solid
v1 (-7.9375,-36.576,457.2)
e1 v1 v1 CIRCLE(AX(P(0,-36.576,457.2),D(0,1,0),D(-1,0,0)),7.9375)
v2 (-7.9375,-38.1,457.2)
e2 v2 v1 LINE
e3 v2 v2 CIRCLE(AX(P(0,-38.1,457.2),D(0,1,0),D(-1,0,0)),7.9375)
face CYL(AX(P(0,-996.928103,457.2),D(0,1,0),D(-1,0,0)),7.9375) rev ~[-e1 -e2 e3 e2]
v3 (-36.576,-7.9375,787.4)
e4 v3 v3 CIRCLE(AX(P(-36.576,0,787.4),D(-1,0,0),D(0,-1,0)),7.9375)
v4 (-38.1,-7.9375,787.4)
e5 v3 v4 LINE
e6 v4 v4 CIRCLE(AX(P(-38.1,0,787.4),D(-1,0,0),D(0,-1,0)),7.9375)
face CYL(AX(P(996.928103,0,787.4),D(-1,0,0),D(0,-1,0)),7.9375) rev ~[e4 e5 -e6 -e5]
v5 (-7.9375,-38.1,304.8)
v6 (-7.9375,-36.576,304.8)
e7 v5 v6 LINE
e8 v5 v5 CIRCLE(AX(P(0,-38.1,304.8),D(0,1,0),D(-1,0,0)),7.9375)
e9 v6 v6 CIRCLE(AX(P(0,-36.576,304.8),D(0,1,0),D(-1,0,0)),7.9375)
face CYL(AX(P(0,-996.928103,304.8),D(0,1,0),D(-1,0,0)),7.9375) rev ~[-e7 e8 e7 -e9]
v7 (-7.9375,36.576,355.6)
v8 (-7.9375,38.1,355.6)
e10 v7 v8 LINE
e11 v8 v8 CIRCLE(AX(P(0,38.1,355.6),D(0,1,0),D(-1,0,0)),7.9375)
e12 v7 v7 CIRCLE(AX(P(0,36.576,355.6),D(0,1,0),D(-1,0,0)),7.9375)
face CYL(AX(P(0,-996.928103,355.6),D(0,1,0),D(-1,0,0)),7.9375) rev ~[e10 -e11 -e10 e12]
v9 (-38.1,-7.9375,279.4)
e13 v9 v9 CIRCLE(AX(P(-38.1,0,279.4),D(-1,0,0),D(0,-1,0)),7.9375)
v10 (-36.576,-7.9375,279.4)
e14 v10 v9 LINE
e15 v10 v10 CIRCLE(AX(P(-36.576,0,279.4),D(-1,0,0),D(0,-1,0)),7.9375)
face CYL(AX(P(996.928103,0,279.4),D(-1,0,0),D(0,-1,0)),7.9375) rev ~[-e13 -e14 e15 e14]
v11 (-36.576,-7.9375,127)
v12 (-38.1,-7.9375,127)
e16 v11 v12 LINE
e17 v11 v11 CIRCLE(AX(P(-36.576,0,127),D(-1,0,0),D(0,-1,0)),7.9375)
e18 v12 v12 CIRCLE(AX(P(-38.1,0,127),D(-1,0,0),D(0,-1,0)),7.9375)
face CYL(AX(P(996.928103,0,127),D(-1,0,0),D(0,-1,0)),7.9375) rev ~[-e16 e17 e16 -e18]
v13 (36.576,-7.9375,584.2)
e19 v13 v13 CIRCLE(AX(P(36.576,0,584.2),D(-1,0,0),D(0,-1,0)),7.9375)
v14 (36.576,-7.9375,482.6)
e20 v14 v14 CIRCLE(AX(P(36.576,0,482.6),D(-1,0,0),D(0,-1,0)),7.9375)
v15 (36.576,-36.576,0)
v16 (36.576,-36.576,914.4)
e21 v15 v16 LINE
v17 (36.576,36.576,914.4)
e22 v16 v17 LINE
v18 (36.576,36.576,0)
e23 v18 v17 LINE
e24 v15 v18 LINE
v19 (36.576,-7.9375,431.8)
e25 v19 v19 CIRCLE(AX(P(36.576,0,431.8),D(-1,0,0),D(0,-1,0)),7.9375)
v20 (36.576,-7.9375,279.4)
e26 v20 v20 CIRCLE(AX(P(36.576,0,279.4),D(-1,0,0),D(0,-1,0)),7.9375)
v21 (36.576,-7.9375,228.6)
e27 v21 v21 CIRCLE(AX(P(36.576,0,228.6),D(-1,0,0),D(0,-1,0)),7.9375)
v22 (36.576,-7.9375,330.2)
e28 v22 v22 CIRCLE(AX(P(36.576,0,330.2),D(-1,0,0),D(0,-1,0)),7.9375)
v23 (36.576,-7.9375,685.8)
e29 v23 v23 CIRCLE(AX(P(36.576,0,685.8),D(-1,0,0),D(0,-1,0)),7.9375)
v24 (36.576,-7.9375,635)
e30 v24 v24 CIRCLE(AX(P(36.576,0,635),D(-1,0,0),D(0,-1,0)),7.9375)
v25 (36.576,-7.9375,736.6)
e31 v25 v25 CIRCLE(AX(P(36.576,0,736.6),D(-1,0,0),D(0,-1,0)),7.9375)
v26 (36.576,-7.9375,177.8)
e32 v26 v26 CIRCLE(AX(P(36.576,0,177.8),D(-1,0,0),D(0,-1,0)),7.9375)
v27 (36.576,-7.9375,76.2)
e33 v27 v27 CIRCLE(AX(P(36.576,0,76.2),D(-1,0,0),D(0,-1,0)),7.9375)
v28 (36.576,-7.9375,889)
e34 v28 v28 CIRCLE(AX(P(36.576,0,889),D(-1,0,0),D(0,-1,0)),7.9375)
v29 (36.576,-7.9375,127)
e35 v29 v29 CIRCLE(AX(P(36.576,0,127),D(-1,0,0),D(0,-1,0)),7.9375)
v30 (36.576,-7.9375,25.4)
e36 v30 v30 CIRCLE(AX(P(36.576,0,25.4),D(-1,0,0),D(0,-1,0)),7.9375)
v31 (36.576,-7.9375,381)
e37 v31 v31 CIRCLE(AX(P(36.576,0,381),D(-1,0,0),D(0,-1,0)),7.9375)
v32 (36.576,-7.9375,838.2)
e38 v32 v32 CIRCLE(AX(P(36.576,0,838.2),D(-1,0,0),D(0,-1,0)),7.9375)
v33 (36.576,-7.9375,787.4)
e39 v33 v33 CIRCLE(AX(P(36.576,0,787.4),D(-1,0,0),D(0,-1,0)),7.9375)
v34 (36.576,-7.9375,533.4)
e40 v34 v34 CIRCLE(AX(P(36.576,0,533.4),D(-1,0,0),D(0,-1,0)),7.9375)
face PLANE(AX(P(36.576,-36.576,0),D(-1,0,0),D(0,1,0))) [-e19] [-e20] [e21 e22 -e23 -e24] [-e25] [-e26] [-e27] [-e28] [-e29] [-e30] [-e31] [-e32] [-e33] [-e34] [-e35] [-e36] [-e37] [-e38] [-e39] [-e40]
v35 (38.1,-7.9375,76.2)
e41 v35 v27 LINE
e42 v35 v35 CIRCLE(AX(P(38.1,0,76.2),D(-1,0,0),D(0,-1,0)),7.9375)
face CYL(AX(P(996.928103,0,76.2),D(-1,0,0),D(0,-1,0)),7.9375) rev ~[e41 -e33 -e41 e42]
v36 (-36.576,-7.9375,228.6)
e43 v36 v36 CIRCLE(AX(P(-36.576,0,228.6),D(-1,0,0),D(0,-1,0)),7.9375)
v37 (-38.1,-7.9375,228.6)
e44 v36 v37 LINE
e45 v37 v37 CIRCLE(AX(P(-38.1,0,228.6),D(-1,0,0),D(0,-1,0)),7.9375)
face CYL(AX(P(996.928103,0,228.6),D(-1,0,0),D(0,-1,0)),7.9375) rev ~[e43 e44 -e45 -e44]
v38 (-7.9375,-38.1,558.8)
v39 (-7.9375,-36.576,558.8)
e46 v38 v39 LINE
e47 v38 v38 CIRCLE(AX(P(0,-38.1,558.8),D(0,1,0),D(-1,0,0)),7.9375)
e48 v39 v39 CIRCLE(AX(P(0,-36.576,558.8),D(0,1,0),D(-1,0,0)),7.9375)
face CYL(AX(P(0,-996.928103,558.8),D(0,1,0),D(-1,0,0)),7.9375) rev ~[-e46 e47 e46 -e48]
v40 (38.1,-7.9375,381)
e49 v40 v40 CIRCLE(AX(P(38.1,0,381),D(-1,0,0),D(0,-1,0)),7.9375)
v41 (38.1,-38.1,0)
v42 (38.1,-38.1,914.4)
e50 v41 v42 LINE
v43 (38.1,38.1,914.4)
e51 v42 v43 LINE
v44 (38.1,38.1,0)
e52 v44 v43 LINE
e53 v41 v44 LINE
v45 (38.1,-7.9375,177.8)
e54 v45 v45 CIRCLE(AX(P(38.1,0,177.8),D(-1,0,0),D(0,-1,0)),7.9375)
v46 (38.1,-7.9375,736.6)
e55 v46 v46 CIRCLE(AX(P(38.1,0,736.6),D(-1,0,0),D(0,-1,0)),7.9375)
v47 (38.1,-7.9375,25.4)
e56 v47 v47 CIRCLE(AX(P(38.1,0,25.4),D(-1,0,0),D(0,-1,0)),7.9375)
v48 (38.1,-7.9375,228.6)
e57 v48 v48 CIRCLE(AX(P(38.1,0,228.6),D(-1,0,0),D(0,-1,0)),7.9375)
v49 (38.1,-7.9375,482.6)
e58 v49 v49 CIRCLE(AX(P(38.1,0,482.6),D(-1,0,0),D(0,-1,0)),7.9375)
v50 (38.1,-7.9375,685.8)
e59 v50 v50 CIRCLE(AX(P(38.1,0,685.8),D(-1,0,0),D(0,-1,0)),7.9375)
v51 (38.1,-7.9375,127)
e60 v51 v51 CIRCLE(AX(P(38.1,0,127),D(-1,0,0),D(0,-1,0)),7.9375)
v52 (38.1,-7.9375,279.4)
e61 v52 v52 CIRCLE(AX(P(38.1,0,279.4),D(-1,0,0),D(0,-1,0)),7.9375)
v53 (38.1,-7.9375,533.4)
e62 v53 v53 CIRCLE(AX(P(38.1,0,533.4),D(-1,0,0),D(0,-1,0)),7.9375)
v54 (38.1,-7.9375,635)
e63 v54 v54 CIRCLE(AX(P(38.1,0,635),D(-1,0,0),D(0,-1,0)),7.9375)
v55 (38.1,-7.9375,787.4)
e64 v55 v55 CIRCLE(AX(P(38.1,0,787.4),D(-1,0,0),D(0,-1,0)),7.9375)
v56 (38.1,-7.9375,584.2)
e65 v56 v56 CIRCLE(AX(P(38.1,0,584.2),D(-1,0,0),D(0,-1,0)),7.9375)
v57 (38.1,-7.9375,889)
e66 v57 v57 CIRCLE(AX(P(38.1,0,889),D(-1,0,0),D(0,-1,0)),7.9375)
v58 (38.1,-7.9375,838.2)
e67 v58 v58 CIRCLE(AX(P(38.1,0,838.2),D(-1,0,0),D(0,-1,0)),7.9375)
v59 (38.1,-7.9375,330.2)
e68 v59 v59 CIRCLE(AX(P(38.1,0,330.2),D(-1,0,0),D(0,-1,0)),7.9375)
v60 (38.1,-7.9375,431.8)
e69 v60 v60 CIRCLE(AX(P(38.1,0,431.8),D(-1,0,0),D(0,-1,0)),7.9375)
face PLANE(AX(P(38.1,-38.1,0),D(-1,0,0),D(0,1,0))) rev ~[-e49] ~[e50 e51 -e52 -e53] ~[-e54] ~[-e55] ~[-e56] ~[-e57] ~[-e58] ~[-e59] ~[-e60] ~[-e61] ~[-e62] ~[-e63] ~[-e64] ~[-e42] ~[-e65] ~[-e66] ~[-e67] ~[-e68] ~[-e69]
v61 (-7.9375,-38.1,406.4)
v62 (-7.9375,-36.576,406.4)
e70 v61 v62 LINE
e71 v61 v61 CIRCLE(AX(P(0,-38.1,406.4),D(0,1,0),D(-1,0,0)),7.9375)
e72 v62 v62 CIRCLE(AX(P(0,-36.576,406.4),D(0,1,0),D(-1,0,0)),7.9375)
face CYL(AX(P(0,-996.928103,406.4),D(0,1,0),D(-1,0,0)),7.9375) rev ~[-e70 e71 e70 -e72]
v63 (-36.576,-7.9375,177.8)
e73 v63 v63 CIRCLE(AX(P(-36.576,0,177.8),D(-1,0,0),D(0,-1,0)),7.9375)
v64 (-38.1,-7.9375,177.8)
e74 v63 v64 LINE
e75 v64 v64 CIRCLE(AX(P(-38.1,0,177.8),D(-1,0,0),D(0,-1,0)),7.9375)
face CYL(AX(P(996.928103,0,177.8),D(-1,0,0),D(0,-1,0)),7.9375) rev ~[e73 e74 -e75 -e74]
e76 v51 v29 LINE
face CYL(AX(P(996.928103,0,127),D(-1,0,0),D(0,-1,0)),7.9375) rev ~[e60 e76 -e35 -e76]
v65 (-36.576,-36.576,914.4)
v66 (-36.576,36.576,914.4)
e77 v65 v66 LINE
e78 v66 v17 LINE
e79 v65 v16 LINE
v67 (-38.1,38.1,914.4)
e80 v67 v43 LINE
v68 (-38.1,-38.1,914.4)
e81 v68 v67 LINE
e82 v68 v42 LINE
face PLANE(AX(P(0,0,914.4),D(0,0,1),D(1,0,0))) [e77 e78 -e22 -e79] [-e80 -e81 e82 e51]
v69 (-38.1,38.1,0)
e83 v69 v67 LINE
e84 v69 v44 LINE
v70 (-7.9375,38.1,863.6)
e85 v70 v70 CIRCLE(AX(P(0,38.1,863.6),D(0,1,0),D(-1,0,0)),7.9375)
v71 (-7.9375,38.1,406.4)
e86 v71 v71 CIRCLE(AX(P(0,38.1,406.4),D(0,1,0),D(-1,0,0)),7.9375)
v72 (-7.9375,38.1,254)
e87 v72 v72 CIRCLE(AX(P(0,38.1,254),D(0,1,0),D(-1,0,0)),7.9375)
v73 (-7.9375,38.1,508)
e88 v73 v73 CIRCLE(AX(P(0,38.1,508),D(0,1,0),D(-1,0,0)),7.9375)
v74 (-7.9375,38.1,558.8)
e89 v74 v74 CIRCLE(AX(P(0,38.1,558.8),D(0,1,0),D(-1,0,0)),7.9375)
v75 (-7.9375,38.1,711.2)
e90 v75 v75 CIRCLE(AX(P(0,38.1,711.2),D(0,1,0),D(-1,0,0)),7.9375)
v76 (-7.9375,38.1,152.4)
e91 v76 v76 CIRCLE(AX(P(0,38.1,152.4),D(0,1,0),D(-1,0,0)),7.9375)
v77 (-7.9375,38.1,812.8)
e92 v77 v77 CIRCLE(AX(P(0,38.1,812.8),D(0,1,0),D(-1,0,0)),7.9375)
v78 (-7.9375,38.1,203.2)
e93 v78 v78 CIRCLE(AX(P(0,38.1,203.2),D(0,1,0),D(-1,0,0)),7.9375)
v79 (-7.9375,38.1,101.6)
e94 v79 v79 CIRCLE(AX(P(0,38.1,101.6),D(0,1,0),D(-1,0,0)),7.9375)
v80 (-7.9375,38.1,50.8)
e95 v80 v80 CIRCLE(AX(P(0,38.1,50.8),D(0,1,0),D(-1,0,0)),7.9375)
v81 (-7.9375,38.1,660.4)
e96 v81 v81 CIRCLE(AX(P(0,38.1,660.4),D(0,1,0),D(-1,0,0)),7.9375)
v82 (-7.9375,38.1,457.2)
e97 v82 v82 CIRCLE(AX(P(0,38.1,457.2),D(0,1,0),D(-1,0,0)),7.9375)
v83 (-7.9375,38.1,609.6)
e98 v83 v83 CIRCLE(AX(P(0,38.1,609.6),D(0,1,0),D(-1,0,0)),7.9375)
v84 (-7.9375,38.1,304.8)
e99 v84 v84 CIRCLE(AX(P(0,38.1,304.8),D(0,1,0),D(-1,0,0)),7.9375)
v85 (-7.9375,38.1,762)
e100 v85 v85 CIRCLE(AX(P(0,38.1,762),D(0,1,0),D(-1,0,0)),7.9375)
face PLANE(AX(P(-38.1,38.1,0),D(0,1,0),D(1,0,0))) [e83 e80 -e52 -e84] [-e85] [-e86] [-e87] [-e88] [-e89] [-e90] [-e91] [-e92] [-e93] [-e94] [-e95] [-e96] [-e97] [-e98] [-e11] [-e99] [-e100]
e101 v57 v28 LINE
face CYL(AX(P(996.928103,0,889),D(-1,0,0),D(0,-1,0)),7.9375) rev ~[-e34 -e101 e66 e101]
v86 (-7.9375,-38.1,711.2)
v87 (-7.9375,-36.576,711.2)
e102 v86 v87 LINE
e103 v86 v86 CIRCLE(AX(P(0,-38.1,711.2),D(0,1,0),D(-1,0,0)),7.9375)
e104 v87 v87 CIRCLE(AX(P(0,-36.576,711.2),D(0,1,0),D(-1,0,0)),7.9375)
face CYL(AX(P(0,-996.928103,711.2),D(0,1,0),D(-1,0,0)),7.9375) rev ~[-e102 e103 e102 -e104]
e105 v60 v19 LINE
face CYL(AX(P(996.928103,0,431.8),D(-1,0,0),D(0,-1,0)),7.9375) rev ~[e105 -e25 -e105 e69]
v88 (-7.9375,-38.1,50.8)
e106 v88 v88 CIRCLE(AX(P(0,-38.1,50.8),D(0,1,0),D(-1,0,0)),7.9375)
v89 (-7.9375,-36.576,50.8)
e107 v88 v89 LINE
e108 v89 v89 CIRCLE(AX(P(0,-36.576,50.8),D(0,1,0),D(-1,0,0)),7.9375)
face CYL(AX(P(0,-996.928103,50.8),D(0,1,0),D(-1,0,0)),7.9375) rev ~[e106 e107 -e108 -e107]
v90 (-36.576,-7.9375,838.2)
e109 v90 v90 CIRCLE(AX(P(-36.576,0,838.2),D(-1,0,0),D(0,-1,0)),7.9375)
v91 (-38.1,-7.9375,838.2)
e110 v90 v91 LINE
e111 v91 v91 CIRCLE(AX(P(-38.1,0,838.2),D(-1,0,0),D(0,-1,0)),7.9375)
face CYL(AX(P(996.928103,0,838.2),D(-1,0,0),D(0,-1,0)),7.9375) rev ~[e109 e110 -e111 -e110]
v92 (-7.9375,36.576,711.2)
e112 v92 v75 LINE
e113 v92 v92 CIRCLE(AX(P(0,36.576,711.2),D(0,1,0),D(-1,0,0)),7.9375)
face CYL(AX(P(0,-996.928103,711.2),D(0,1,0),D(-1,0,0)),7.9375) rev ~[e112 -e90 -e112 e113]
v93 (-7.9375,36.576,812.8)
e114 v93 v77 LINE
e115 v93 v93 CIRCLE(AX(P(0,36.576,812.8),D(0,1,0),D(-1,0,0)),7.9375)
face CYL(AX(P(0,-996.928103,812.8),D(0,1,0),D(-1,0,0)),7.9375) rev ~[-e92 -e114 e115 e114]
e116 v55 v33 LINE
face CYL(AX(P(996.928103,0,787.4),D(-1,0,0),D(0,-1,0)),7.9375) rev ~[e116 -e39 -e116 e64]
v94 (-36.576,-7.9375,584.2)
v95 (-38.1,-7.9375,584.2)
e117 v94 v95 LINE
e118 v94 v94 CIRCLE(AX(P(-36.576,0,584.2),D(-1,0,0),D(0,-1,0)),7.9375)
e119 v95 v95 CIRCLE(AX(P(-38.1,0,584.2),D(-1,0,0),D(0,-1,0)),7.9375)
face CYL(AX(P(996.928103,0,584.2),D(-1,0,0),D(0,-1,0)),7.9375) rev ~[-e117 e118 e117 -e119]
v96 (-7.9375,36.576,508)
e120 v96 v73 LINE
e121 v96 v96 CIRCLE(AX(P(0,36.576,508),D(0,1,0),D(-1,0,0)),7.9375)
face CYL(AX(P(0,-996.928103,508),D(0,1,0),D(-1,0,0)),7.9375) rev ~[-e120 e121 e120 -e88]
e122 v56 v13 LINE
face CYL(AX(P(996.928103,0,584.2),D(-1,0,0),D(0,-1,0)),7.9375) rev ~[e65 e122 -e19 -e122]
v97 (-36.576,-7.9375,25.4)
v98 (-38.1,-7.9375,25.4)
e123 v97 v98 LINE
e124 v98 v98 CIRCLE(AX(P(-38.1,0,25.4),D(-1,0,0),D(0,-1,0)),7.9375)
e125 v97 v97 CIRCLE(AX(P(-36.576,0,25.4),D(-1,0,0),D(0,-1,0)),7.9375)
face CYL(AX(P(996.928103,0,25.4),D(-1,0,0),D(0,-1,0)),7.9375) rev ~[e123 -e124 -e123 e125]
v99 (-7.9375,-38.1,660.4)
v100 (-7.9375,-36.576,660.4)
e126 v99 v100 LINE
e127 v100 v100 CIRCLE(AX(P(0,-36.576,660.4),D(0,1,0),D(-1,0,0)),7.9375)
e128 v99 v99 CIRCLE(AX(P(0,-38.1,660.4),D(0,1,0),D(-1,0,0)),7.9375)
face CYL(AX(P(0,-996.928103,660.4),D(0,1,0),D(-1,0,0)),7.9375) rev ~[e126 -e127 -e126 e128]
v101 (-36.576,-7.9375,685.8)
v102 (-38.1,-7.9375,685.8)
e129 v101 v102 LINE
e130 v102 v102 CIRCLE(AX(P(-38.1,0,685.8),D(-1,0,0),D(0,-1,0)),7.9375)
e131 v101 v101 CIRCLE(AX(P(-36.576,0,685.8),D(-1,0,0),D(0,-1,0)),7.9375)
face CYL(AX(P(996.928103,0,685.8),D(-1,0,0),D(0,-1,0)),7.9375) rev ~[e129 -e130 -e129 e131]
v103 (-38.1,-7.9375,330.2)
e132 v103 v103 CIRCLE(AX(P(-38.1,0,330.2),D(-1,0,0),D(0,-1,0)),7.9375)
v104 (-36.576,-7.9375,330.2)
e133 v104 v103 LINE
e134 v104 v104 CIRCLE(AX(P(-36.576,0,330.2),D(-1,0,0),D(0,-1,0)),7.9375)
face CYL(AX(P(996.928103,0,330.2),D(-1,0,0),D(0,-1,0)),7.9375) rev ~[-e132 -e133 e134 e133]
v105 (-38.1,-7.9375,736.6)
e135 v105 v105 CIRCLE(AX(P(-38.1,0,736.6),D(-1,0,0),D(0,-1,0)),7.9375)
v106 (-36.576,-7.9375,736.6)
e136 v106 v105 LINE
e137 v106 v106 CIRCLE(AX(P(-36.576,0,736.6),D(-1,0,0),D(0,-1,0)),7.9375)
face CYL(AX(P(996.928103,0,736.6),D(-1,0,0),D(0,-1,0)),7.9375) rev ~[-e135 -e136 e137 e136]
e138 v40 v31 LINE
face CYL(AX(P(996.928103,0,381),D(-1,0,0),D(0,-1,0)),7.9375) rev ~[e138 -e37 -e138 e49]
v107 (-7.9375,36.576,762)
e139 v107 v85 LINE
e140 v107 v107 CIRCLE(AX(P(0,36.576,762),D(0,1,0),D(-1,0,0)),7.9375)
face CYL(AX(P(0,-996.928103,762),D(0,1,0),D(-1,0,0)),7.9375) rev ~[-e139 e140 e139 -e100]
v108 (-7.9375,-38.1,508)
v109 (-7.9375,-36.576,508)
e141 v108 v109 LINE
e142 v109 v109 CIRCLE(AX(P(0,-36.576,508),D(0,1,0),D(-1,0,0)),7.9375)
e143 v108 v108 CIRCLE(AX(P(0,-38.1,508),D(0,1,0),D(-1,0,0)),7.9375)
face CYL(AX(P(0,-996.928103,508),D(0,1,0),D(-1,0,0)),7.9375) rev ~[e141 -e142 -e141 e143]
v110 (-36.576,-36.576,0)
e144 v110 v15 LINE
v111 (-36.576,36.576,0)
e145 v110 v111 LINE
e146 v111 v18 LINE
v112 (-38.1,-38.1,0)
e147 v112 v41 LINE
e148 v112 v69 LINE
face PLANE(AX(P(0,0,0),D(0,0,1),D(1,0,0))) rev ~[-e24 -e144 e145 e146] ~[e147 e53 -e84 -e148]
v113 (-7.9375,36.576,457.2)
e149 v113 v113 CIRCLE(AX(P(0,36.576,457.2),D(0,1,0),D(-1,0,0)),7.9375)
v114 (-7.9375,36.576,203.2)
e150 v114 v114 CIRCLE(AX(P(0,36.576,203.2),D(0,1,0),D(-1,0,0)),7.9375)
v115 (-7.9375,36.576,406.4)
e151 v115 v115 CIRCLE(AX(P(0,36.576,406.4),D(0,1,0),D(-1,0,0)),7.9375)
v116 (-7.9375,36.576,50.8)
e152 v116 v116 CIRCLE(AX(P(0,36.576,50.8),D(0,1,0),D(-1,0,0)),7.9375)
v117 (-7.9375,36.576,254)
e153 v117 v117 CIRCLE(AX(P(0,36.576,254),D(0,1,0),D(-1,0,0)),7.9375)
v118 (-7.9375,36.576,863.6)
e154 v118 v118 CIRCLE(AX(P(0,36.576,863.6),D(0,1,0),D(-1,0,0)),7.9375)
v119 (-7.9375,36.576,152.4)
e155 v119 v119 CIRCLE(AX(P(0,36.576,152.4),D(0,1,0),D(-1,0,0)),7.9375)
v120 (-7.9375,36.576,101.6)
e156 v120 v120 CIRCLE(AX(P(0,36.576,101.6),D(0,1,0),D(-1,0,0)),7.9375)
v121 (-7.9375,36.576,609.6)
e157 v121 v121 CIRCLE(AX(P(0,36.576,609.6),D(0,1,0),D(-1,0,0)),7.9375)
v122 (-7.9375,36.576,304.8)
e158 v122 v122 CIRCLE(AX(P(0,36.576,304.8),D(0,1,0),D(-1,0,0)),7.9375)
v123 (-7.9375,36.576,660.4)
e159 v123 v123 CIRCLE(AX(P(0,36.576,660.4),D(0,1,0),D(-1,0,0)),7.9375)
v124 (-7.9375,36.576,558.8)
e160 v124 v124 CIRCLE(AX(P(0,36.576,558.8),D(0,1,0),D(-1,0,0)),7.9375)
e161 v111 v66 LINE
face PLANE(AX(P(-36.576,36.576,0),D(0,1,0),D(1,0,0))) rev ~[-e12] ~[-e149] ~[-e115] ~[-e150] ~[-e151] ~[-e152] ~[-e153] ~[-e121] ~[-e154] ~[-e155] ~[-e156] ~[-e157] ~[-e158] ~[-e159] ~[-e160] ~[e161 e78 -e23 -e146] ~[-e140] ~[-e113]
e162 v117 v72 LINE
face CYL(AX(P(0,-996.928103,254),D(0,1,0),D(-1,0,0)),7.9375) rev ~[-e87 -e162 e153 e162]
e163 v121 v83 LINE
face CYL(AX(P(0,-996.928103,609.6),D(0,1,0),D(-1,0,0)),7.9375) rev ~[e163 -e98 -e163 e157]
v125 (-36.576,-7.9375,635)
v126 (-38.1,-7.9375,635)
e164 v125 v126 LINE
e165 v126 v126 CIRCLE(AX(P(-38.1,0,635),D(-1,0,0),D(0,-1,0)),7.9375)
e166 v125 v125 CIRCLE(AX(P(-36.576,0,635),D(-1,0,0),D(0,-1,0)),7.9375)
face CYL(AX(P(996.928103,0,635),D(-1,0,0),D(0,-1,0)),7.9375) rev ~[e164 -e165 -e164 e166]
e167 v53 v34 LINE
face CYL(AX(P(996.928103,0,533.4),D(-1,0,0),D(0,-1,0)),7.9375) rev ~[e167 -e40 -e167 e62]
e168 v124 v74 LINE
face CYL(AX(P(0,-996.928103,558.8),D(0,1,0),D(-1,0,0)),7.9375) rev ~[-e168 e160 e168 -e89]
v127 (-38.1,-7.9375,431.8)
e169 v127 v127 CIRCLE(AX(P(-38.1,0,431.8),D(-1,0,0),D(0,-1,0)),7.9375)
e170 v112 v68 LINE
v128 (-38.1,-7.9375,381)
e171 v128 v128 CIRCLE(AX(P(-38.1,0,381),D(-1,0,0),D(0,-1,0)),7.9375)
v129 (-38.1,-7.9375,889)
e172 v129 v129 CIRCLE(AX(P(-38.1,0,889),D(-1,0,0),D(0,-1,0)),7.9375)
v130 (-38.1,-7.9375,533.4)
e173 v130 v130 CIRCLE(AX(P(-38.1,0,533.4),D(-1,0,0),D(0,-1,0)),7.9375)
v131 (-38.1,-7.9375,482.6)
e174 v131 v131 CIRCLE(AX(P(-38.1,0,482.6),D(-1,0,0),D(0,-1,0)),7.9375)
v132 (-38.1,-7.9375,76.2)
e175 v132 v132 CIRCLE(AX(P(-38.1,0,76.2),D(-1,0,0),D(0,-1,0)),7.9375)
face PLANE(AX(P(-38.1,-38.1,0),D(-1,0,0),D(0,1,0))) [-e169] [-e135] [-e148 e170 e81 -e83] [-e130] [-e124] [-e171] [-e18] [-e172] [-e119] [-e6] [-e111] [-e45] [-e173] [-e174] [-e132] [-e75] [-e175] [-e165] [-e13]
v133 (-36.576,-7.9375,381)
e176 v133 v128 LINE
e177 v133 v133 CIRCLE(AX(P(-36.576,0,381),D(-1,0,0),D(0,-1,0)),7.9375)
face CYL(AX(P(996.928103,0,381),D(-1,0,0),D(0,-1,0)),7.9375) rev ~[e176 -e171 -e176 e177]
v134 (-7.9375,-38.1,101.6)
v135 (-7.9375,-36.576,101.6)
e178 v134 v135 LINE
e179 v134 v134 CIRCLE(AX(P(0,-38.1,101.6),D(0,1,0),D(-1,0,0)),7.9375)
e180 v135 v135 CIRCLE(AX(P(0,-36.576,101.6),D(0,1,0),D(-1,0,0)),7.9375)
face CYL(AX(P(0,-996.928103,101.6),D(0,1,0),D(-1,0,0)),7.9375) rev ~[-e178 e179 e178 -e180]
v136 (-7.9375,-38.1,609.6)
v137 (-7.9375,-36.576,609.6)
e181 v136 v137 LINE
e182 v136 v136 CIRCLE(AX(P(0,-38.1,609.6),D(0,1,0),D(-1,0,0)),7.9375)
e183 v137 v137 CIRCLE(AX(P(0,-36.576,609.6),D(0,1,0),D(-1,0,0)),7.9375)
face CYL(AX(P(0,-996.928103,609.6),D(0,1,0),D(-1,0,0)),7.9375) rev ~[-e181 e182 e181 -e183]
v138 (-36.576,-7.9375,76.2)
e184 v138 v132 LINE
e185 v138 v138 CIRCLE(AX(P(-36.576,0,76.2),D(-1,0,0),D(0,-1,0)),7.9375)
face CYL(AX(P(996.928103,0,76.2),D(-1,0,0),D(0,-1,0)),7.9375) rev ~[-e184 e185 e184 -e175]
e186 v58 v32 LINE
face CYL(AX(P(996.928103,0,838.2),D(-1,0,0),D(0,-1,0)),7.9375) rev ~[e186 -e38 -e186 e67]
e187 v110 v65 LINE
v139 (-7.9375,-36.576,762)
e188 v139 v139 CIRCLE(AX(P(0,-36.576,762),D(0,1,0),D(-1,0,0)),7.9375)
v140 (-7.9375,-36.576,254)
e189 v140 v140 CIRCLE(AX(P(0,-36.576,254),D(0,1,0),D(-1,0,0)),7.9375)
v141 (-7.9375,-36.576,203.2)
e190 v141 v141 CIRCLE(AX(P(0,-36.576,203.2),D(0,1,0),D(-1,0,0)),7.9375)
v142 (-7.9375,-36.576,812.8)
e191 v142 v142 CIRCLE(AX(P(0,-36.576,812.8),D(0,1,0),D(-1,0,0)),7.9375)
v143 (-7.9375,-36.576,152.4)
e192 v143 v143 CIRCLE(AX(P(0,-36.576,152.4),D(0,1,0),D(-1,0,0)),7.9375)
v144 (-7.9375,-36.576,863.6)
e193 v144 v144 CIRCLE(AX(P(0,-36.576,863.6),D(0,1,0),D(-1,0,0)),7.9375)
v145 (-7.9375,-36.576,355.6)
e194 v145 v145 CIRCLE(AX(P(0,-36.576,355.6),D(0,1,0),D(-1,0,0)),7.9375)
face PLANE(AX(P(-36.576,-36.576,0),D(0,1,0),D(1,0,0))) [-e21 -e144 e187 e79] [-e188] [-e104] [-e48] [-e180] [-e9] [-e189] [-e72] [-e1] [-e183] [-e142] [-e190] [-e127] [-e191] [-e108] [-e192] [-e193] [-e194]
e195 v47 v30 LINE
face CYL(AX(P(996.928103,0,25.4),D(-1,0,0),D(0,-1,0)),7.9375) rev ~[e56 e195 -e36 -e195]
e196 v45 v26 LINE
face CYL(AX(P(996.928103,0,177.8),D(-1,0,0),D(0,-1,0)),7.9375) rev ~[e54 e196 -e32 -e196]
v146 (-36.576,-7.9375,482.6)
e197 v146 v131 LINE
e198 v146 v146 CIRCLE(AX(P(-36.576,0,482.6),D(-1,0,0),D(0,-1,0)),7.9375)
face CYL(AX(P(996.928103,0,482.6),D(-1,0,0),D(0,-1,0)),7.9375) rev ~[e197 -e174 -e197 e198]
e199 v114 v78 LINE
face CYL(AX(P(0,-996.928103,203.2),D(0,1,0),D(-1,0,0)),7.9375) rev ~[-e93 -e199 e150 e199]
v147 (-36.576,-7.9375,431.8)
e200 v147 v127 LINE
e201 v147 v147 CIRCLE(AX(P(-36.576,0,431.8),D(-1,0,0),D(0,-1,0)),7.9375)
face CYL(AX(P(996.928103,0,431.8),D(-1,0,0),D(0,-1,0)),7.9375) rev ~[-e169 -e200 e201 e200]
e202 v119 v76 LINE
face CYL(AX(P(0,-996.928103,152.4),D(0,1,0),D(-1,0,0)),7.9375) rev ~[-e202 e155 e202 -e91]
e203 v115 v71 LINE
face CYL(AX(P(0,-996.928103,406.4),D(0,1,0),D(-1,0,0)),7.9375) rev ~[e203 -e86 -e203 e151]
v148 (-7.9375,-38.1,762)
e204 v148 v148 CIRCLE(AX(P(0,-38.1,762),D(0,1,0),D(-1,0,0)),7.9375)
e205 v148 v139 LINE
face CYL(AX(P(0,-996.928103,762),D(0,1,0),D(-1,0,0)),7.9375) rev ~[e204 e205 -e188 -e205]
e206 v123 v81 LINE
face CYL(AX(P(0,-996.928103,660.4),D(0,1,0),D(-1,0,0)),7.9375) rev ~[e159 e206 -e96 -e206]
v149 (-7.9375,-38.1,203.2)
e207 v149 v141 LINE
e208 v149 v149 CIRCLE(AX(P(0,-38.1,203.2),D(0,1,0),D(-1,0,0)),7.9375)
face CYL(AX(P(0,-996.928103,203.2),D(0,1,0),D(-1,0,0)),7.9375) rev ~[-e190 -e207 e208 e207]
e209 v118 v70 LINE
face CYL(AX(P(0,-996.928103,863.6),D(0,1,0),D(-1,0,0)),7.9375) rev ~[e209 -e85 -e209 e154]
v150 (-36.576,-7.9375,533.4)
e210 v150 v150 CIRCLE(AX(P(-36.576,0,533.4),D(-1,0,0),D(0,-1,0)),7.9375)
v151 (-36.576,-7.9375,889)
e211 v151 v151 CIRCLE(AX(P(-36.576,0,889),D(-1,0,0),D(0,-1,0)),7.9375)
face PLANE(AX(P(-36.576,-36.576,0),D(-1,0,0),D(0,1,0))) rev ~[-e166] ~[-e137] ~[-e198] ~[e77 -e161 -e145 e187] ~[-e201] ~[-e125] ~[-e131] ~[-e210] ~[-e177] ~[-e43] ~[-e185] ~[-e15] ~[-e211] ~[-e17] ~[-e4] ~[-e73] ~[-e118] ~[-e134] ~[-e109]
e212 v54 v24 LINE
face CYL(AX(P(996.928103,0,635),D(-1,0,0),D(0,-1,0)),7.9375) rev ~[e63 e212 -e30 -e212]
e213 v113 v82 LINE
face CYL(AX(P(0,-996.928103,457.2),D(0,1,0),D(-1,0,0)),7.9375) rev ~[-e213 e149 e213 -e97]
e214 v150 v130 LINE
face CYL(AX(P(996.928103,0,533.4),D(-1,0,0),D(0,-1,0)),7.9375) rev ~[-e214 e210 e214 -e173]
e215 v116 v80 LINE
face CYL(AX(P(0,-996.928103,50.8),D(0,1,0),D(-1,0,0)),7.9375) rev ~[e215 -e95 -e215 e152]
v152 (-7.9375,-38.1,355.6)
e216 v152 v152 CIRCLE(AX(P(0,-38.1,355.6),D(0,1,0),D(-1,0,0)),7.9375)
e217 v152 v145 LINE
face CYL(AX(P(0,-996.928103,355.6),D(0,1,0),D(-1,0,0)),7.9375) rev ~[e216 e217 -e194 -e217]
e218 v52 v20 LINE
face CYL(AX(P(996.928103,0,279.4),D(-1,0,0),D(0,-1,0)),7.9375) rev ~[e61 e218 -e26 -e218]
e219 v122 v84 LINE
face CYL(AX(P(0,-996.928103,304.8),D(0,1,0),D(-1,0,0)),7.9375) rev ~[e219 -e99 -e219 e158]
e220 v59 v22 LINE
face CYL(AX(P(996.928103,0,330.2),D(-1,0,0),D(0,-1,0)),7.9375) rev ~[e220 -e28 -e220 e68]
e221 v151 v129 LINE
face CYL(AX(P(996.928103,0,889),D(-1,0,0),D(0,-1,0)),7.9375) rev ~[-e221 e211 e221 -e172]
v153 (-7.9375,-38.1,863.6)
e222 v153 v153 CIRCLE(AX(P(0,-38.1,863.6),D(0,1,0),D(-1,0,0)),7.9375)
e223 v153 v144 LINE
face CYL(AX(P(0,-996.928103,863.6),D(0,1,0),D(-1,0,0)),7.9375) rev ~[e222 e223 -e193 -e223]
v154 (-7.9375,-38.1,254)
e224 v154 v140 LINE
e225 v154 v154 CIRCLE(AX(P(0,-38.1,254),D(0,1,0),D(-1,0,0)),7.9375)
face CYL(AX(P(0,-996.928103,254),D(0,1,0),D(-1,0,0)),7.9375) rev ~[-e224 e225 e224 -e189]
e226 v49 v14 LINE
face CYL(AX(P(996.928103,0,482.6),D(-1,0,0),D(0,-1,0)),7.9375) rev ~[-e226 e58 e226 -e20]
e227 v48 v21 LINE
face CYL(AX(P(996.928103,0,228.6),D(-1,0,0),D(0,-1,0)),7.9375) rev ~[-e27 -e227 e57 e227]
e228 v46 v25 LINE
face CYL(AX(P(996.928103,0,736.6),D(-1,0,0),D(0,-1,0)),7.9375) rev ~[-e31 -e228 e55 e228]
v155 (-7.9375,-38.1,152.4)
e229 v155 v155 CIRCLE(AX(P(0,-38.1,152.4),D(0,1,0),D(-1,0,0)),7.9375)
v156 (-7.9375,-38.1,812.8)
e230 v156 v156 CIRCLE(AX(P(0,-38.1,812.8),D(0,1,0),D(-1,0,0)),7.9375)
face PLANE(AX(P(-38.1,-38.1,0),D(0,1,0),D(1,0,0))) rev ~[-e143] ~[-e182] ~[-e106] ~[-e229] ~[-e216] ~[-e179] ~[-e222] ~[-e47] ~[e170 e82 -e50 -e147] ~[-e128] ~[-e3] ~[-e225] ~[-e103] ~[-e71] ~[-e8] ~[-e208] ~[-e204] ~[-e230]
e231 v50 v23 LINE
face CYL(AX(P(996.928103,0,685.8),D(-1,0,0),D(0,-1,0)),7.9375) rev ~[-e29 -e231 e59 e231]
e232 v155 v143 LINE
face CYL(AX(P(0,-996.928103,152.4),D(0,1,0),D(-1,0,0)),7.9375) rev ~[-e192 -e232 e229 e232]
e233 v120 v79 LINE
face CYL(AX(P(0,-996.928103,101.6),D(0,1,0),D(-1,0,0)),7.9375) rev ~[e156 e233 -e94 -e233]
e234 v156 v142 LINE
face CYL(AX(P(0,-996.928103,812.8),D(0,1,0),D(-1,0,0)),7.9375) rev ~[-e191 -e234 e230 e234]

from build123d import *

# Parameters (mm, degrees)
F0_W       = 76.2
F0_H       = 76.2
F0_W_2     = 73.152
F0_H_2     = 73.152
F1_DEPTH   = 914.4
F6_D       = 15.875
F6_ON_F3_D = 15.875


with BuildPart() as f1:
    # F0 (on Top) → F1 (new body)
    with BuildSketch(Plane.XY):
        Rectangle(F0_W, F0_H)
        Rectangle(F0_W_2, F0_H_2, mode=Mode.SUBTRACT)
    extrude(amount=F1_DEPTH)

    # F6 (through all)
    with Locations(Plane.YZ.offset(76.2)):
        with Locations((0, 25.4), (0, 76.2), (0, 127), (0, 177.8), (0, 228.6), (0, 279.4), (0, 330.2), (0, 381), (0, 431.8), (0, 482.6), (0, 533.4), (0, 584.2), (0, 635), (0, 685.8), (0, 736.6), (0, 787.4), (0, 838.2), (0, 889)):
            Hole(F6_D / 2)

    # F6 on F3 (through all)
    with Locations(Plane.XZ.offset(76.2)):
        with Locations((0, 863.6), (0, 812.8), (0, 762), (0, 711.2), (0, 660.4), (0, 609.6), (0, 558.8), (0, 508), (0, 457.2), (0, 406.4), (0, 355.6), (0, 304.8), (0, 254), (0, 203.2), (0, 152.4), (0, 101.6), (0, 50.8)):
            Hole(F6_ON_F3_D / 2)


solid = f1.part
